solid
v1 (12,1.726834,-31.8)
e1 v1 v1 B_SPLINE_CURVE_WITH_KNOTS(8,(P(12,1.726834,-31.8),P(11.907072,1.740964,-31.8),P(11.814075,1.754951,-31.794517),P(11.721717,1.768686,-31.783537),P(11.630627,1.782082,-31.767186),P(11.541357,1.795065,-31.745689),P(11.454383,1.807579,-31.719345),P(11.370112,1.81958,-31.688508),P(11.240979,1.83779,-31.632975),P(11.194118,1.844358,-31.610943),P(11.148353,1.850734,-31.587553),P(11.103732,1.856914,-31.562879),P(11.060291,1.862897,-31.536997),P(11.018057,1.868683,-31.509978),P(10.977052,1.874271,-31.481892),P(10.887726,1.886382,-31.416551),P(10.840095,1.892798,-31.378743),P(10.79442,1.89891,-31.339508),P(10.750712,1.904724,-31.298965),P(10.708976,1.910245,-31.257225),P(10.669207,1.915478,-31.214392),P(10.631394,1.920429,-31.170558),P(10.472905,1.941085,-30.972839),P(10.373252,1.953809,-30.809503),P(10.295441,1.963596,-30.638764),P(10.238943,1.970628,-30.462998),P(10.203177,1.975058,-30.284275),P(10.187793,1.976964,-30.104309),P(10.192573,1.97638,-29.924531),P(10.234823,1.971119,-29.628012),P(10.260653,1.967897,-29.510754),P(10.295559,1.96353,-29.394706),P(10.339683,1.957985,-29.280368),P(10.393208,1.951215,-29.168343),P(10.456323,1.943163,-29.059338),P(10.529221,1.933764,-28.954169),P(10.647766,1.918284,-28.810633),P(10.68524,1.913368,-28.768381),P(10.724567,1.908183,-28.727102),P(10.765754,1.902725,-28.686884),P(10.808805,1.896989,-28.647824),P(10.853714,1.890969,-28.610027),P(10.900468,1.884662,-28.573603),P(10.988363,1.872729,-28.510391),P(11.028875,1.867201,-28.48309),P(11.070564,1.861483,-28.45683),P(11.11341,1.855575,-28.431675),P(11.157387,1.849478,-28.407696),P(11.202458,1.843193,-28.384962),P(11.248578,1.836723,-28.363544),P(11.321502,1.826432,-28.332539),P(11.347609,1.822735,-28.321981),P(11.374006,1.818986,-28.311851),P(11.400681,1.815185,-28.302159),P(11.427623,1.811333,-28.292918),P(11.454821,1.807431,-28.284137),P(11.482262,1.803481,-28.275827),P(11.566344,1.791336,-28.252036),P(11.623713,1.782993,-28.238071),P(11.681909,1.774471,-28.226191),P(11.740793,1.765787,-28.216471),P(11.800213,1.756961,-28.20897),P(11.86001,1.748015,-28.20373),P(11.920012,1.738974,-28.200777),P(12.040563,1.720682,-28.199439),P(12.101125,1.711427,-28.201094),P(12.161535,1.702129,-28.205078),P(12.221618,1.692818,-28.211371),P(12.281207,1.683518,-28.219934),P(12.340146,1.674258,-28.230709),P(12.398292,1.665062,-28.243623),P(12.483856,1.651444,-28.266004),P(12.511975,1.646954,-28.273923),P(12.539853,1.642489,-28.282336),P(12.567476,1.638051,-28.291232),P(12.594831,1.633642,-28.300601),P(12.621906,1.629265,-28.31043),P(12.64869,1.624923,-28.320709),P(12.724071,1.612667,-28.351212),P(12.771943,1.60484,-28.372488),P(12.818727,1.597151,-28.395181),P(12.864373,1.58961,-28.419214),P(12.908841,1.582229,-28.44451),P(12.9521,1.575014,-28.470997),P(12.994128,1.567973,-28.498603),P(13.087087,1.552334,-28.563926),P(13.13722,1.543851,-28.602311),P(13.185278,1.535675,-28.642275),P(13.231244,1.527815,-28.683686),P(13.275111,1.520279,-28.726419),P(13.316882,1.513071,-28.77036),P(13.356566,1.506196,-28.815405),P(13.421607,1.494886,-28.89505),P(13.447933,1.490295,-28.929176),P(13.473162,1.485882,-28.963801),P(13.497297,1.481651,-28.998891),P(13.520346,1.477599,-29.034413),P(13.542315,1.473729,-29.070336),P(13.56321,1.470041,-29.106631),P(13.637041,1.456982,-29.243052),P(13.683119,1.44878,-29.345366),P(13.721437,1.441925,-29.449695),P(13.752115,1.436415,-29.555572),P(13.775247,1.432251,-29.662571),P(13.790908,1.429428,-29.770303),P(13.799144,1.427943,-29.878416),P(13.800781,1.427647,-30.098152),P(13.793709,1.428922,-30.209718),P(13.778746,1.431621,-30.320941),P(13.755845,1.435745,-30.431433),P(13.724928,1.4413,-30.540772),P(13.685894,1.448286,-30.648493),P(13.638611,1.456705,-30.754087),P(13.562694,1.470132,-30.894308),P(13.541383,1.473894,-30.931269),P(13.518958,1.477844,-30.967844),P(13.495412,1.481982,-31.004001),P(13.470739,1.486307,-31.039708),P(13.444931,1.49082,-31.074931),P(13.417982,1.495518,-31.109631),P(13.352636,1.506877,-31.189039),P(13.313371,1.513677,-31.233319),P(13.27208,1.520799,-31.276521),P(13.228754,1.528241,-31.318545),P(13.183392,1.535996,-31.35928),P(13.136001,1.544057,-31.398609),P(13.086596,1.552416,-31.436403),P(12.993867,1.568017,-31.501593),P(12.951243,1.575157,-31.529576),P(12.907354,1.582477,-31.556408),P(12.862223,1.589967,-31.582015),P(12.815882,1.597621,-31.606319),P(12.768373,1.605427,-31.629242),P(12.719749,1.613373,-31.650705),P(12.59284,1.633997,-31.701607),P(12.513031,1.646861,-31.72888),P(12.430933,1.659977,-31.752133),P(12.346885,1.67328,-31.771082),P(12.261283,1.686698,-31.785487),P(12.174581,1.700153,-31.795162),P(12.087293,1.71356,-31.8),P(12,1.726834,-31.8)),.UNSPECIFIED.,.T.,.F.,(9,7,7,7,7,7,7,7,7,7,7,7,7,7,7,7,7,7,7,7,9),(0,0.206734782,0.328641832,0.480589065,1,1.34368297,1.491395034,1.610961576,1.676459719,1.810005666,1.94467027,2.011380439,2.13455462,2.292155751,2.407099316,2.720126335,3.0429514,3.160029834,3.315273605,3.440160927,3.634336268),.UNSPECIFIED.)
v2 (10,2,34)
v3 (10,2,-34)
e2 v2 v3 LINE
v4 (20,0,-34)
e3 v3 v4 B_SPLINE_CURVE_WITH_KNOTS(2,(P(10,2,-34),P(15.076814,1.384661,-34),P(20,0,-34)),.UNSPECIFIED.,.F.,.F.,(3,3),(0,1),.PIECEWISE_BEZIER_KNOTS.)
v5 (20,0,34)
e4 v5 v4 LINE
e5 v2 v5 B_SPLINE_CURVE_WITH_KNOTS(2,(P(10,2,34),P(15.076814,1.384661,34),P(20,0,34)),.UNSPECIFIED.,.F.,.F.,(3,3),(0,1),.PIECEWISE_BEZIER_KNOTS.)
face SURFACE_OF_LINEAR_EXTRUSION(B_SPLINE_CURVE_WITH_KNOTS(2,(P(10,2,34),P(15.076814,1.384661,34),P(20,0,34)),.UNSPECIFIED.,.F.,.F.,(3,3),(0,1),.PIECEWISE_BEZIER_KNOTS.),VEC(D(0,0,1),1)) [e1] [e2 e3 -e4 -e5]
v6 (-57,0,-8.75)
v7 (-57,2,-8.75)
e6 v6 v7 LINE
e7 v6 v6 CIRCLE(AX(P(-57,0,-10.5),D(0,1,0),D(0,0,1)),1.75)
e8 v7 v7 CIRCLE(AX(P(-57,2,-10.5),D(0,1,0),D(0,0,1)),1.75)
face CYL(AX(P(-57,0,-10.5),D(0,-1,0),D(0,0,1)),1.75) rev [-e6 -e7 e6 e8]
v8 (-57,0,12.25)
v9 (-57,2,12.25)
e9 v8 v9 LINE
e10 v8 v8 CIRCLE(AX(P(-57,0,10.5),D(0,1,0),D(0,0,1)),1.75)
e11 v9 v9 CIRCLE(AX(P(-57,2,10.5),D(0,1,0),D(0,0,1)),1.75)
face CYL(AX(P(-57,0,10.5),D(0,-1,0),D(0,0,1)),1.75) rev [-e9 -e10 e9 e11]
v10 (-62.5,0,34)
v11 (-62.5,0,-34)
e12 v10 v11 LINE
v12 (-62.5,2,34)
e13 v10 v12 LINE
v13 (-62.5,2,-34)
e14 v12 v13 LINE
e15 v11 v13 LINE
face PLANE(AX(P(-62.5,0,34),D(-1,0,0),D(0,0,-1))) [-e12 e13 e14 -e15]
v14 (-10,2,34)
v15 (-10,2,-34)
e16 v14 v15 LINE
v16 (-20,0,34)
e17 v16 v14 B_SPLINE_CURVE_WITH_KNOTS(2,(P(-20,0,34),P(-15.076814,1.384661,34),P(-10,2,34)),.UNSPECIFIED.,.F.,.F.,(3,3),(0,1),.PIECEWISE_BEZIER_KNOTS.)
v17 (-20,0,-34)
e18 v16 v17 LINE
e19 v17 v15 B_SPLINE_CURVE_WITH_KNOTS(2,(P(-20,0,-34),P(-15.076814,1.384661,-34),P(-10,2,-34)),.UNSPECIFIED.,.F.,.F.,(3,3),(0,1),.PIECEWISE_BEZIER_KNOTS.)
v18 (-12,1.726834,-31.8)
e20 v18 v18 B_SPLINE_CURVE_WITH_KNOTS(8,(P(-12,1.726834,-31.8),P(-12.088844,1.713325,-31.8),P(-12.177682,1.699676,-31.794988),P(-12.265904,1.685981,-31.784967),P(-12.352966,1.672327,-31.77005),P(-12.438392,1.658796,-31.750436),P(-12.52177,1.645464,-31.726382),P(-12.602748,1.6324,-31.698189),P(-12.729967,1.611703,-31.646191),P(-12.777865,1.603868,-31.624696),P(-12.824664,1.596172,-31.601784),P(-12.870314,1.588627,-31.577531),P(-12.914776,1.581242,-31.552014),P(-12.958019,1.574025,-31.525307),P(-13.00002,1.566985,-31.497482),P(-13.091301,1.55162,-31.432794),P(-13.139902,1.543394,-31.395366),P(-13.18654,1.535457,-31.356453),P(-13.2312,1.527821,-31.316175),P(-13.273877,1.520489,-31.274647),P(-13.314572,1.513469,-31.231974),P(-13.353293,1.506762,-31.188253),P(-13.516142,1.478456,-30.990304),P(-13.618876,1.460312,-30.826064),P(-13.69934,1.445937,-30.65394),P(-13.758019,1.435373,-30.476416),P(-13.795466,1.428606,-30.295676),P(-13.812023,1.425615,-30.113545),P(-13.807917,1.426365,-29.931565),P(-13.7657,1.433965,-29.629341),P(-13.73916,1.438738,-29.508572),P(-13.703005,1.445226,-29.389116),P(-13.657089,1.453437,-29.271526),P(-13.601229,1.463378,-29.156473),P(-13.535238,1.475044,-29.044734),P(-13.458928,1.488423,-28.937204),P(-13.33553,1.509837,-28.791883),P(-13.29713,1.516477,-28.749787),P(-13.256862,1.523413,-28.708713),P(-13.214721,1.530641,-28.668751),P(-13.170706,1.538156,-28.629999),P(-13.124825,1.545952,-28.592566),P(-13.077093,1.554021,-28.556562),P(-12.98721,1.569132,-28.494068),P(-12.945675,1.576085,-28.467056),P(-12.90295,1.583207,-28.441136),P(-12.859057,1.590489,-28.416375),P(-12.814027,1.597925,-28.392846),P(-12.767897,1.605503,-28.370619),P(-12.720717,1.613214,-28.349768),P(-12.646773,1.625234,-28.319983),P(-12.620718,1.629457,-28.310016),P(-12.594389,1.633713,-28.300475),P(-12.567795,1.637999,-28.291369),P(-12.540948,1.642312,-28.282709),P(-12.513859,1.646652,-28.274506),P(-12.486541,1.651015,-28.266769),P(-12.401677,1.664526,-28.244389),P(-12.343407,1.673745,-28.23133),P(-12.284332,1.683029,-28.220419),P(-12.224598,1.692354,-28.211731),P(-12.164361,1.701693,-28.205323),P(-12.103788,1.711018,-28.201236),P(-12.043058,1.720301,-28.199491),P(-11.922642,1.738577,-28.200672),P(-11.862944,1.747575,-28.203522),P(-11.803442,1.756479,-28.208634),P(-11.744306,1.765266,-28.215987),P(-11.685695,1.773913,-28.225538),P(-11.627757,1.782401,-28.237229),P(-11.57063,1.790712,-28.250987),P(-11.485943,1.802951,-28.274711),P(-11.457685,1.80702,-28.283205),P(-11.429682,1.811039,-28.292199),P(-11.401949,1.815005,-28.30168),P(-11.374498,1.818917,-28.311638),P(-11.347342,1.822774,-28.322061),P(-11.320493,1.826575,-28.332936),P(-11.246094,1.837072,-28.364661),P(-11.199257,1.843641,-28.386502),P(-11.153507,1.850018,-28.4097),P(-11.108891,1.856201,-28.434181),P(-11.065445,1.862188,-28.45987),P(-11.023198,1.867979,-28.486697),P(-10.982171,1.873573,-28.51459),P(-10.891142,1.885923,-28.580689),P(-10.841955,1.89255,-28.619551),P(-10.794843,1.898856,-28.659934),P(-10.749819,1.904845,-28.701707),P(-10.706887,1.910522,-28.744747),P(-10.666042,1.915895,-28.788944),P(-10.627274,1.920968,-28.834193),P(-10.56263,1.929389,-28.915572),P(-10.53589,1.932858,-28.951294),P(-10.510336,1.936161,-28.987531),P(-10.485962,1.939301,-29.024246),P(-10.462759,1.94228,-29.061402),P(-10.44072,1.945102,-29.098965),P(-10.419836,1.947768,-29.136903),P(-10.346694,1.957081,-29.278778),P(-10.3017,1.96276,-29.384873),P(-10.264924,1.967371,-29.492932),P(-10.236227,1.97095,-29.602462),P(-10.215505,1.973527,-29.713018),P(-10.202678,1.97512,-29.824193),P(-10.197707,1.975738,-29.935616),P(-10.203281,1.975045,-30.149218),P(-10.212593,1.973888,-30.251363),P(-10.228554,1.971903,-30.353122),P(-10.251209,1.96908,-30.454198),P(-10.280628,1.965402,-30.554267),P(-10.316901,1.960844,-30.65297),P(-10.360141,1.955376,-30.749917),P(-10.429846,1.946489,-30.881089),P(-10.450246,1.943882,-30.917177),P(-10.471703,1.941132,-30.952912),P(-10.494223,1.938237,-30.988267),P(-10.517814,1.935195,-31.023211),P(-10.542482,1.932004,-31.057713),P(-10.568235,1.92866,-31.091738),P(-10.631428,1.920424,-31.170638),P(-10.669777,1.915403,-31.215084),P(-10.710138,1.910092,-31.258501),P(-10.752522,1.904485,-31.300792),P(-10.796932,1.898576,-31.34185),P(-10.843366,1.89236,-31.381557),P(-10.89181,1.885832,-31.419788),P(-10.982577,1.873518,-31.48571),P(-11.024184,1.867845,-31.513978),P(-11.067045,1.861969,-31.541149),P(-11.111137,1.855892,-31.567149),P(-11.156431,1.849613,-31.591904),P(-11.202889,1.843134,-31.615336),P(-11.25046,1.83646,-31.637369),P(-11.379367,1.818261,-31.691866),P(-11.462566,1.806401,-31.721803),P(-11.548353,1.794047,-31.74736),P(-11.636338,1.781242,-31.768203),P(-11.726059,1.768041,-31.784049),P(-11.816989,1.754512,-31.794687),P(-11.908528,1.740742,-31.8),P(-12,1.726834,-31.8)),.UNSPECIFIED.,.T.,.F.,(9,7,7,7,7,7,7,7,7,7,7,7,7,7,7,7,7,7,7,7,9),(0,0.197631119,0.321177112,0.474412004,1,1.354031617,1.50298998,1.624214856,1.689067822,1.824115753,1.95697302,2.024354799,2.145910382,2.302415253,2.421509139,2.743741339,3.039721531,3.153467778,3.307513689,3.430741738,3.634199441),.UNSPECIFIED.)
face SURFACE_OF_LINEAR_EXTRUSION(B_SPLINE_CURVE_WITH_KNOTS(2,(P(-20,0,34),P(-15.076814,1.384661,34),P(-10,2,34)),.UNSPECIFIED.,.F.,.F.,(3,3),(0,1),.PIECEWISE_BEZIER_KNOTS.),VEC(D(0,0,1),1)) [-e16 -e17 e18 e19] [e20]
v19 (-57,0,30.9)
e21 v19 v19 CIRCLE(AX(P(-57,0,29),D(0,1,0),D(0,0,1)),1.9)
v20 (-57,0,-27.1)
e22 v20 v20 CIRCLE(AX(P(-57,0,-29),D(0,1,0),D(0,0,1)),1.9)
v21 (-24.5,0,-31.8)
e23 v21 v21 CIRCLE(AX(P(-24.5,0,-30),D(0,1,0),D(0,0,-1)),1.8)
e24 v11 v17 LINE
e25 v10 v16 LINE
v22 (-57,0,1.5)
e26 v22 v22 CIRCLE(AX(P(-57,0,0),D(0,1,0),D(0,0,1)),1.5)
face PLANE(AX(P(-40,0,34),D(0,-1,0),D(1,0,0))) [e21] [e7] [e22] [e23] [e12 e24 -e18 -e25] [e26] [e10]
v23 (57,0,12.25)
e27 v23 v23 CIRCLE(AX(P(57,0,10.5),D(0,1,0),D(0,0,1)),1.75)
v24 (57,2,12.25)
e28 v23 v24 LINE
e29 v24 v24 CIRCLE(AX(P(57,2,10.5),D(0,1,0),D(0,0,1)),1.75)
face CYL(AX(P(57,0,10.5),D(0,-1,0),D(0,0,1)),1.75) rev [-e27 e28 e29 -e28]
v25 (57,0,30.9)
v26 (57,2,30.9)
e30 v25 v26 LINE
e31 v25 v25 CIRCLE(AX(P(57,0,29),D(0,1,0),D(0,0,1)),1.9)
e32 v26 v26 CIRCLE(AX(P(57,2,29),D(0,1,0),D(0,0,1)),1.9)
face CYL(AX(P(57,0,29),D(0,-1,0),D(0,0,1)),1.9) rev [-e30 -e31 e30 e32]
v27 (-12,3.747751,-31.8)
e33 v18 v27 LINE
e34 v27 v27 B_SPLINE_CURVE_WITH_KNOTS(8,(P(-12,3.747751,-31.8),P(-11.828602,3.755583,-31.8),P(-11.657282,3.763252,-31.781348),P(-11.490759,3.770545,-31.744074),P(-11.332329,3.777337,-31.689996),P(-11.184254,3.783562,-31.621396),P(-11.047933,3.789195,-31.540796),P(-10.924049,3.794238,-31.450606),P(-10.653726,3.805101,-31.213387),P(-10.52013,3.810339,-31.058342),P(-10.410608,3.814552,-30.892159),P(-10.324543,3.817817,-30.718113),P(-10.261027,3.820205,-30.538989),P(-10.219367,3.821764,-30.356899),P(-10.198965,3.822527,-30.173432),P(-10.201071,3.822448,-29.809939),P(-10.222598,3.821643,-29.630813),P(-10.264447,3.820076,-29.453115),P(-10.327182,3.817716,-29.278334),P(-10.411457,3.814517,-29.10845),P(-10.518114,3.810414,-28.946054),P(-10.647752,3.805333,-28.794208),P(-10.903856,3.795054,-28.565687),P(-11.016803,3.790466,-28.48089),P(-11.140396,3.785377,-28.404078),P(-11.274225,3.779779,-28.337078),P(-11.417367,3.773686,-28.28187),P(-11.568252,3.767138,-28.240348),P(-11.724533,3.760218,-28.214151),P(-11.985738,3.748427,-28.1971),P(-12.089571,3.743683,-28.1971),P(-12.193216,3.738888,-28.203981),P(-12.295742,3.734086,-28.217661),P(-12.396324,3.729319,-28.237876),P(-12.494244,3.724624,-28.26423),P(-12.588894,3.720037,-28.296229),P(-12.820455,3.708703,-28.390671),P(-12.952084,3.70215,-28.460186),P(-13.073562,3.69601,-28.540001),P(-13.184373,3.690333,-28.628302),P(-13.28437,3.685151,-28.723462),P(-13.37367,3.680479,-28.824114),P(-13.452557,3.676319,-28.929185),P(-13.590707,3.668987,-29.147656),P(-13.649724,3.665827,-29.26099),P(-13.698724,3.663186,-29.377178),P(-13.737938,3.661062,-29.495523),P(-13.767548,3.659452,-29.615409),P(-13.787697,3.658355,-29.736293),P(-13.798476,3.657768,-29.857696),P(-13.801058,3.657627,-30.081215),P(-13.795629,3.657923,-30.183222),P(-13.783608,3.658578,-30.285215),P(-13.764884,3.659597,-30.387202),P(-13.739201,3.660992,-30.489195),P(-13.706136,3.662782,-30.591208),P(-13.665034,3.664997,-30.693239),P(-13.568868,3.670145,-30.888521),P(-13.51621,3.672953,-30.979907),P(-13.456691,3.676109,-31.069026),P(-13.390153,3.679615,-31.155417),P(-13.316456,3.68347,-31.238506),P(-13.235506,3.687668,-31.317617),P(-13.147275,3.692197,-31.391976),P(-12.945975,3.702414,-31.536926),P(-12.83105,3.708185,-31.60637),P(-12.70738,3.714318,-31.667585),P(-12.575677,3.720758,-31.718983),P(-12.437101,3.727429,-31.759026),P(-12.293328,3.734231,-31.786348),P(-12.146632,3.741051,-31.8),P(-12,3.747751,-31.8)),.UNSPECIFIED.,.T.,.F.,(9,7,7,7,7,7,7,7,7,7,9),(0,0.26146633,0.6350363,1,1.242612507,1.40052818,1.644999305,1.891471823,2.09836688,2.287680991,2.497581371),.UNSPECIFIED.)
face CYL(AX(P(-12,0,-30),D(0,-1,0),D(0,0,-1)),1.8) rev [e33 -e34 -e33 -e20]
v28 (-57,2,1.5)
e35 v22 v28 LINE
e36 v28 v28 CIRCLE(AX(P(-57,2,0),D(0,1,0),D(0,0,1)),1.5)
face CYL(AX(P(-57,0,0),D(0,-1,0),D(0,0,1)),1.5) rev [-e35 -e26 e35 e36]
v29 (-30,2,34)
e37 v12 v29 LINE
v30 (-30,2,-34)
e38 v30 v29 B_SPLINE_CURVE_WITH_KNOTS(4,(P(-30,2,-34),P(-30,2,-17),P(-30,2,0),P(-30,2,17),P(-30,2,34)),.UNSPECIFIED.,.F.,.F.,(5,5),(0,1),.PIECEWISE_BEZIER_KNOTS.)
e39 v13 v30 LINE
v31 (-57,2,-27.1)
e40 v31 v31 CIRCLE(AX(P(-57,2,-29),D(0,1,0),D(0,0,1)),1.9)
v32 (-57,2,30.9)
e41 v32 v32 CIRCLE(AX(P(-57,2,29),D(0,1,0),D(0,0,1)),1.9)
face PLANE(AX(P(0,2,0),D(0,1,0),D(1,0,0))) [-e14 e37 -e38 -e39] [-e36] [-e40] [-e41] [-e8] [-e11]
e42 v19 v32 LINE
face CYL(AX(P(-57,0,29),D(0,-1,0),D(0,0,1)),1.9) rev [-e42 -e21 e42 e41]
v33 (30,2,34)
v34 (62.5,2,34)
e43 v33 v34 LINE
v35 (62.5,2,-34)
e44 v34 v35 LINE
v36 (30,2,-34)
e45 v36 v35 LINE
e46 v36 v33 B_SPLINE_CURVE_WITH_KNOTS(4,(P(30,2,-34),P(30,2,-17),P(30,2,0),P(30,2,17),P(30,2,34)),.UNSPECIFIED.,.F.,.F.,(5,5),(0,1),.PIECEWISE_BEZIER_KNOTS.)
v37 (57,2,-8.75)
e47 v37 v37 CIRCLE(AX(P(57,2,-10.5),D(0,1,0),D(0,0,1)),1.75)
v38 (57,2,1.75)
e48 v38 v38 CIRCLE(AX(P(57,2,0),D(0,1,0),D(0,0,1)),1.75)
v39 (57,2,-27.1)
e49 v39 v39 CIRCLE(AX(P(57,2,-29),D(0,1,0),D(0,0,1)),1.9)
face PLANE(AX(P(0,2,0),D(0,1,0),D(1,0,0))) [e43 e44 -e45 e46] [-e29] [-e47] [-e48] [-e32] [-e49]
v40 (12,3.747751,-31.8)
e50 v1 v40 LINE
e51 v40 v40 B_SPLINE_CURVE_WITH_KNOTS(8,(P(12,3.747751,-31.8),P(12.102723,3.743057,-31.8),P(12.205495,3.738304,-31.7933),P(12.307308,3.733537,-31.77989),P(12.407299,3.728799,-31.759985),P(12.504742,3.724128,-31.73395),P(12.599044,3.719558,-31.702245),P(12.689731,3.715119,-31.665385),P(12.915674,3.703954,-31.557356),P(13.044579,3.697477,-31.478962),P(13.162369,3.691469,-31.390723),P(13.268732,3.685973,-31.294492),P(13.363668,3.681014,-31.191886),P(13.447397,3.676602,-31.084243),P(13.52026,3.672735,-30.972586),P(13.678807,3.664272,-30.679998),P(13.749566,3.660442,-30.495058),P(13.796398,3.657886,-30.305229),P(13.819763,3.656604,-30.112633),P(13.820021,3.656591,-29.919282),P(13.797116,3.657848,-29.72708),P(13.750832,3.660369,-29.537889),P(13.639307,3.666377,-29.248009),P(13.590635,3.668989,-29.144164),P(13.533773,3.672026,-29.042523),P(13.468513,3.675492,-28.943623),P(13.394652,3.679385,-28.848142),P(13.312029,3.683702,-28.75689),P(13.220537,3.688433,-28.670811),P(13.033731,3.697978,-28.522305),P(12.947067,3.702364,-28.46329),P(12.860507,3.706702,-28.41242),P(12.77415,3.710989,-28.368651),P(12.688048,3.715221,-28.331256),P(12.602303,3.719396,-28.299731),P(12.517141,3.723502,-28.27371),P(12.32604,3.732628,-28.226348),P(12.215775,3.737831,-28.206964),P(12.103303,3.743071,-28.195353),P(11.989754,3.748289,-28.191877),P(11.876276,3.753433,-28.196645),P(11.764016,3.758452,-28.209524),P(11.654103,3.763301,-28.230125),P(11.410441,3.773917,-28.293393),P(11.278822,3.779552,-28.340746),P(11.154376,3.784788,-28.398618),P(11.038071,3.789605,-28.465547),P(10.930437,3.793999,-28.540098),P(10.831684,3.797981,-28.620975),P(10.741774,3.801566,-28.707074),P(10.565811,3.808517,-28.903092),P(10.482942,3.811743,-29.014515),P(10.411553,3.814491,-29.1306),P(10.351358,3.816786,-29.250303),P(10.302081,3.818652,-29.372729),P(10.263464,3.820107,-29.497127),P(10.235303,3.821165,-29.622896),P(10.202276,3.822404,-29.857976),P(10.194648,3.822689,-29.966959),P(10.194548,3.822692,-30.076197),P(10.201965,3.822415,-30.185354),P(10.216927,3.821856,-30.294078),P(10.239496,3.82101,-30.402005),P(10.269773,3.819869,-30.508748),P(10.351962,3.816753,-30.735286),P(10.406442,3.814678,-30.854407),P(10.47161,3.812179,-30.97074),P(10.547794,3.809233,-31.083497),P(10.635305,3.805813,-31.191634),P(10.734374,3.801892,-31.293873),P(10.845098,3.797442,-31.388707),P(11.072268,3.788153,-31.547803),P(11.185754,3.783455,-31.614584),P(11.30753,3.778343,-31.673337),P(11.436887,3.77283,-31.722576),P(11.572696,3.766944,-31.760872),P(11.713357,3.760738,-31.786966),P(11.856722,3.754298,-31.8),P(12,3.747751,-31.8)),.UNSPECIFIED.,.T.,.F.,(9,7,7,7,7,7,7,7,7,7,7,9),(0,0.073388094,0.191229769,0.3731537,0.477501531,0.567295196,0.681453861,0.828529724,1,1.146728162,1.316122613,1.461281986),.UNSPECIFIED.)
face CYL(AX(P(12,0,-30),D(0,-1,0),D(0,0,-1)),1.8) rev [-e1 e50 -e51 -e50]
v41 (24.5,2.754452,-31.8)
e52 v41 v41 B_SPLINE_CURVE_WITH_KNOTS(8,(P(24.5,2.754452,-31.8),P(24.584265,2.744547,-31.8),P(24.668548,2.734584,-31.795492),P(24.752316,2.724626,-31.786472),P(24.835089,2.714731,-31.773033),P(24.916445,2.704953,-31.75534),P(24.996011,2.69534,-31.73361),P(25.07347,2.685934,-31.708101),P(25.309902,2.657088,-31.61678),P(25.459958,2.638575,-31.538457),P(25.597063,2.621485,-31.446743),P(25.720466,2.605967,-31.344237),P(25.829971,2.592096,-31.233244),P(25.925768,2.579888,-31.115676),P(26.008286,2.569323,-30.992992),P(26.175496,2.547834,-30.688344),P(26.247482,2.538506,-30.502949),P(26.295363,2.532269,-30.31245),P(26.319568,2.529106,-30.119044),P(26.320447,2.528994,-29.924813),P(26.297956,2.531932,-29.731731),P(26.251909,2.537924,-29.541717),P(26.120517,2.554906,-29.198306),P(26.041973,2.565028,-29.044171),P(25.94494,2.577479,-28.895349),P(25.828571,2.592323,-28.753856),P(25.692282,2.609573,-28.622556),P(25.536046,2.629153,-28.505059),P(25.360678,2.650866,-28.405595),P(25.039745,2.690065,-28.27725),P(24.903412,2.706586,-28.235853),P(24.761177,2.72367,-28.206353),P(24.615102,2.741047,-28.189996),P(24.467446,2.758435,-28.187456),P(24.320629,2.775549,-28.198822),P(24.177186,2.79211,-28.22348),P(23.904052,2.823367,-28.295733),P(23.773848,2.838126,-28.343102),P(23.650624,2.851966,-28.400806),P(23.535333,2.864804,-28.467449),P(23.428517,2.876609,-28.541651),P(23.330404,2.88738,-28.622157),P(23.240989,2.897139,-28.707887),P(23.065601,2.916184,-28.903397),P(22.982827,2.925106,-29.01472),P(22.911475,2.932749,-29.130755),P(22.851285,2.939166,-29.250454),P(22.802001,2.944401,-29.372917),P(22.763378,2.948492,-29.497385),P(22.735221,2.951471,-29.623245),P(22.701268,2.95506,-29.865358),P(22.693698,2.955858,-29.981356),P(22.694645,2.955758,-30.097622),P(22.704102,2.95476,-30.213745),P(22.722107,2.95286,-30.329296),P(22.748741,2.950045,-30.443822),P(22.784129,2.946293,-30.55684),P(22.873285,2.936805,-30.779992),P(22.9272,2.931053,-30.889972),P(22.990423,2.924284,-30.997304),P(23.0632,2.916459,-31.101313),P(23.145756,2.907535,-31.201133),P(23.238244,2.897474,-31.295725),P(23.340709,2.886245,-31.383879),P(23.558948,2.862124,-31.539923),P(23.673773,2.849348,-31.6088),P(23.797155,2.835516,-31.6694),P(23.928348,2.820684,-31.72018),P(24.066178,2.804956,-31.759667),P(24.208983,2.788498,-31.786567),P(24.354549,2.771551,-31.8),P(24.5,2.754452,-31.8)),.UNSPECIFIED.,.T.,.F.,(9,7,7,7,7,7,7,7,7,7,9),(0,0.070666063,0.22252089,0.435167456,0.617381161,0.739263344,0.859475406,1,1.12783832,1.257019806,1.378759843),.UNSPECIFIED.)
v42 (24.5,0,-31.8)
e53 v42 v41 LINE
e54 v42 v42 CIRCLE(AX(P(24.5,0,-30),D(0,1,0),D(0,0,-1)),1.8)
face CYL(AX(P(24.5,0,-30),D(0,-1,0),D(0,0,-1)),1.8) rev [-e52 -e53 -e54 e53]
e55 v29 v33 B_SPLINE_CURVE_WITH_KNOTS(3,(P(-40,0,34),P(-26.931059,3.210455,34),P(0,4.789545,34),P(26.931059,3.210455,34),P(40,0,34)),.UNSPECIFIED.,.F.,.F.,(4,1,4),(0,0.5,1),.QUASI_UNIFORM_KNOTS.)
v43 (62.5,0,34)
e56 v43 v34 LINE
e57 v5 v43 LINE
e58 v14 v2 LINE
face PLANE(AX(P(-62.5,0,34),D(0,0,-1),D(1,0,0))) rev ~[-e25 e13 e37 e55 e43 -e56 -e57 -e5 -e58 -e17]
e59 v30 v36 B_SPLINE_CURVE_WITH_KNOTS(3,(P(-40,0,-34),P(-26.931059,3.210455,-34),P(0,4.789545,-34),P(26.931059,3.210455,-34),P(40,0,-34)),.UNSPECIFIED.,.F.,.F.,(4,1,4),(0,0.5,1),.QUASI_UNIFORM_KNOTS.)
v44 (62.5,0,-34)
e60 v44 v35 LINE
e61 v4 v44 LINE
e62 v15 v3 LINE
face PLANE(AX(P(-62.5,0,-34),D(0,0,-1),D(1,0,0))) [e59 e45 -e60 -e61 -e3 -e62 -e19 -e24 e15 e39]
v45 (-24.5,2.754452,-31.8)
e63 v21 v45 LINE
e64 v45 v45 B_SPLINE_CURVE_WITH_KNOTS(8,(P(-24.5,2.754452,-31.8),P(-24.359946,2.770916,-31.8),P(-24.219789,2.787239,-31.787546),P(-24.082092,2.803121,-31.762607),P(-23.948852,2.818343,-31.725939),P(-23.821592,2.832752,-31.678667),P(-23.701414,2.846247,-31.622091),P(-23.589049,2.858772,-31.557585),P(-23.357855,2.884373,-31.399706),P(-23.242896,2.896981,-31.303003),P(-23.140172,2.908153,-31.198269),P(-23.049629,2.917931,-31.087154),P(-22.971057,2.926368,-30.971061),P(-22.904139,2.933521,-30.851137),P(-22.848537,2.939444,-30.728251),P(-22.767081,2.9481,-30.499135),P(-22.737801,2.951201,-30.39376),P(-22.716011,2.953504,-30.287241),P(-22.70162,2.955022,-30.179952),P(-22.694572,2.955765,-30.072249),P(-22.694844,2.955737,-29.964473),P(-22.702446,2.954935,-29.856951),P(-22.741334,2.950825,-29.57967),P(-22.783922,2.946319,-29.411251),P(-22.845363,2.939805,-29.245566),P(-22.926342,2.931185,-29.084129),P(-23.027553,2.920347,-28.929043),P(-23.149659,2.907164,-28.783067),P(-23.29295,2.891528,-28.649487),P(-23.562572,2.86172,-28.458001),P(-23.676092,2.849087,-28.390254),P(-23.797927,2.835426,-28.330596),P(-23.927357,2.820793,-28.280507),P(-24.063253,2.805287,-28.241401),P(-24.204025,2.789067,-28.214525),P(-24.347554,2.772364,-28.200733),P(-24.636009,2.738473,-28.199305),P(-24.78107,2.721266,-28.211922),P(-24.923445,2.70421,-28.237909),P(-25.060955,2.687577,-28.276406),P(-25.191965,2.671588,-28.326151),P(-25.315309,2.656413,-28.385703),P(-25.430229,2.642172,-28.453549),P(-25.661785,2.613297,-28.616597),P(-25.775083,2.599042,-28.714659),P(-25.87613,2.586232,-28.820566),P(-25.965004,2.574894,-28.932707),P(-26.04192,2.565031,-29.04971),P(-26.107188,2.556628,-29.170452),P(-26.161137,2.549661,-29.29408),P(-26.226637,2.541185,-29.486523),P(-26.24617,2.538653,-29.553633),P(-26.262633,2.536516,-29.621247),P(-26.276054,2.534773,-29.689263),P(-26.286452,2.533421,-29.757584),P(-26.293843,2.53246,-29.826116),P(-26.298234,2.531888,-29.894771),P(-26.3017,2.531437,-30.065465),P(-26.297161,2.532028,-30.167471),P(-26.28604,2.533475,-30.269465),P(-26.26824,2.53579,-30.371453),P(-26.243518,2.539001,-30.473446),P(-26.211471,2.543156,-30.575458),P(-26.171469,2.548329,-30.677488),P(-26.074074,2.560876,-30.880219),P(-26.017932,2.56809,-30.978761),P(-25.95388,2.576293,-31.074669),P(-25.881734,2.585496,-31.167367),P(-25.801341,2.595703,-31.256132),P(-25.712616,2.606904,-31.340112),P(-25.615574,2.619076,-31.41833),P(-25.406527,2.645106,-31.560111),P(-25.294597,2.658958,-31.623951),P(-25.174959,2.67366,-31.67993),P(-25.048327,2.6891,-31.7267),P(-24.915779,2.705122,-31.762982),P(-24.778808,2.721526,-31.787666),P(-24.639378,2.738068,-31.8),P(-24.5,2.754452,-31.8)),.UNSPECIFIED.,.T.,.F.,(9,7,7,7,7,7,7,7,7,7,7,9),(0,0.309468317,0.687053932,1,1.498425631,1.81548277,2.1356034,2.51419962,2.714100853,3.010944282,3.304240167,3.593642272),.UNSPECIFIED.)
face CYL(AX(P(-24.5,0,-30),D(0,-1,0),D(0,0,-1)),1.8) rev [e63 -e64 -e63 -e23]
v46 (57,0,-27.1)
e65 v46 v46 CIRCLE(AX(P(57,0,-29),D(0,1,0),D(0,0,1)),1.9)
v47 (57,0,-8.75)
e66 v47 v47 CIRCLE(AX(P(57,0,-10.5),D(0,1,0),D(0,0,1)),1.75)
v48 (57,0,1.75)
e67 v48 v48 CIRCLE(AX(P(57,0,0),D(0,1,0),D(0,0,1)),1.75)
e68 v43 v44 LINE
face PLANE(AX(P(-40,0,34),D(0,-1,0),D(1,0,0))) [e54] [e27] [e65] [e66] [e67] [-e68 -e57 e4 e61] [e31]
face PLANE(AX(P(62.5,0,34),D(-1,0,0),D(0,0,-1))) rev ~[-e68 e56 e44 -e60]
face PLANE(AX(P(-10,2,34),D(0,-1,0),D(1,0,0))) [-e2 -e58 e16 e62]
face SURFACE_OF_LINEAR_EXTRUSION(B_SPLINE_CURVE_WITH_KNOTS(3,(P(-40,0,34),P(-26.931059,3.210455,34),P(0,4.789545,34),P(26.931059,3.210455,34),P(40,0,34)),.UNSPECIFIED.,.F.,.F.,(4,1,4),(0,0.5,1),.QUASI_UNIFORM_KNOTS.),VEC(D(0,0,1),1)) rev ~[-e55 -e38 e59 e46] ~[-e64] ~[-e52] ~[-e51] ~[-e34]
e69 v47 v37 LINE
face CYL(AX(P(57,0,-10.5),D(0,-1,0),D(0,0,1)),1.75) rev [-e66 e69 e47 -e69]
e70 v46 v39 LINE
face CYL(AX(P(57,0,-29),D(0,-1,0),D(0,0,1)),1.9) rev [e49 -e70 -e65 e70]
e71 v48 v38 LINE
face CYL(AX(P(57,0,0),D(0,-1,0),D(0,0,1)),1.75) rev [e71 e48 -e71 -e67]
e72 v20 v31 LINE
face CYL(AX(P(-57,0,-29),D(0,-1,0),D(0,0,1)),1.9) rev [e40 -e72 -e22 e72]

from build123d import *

# Parameters (mm, degrees)
SKETCH_1_W          = 125
SKETCH_1_H          = 68
SKETCH_1_R          = 1.5
SKETCH_1_R_2        = 1.75
SKETCH_1_R_3        = 1.9
EXTRUDE_1_DEPTH     = 2
EXTRUDE_2_DEPTH     = 68
SKETCH_4_W          = 20
SKETCH_4_H          = 2
CUT_EXTRUDE_1_DEPTH = 68
SKETCH_5_R          = 1.8
CUT_EXTRUDE_2_DEPTH = 10


with BuildPart() as part:
    # 草图1 → 凸台-拉伸1 (new body)
    with BuildSketch(Plane(origin=(0, 0, 0), x_dir=(1, 0, 0), z_dir=(0, 1, 0))):
        Rectangle(SKETCH_1_W, SKETCH_1_H)
        with Locations(Location((-57, 0, 0), (0, 0, 270))):
            Circle(SKETCH_1_R, mode=Mode.SUBTRACT)
        with Locations(Location((57, 0, 0), (0, 0, 270))):
            Circle(SKETCH_1_R_2, mode=Mode.SUBTRACT)
        with Locations(Location((57, -29, 0), (0, 0, 270))):
            Circle(SKETCH_1_R_3, mode=Mode.SUBTRACT)
        with Locations(Location((57, 29, 0), (0, 0, 270))):
            Circle(SKETCH_1_R_3, mode=Mode.SUBTRACT)
        with Locations(Location((57, 10.5, 0), (0, 0, 270))):
            Circle(SKETCH_1_R_2, mode=Mode.SUBTRACT)
        with Locations(Location((57, -10.5, 0), (0, 0, 270))):
            Circle(SKETCH_1_R_2, mode=Mode.SUBTRACT)
        with Locations(Location((-57, 10.5, 0), (0, 0, 270))):
            Circle(SKETCH_1_R_2, mode=Mode.SUBTRACT)
        with Locations(Location((-57, -10.5, 0), (0, 0, 270))):
            Circle(SKETCH_1_R_2, mode=Mode.SUBTRACT)
        with Locations(Location((-57, 29, 0), (0, 0, 270))):
            Circle(SKETCH_1_R_3, mode=Mode.SUBTRACT)
        with Locations(Location((-57, -29, 0), (0, 0, 270))):
            Circle(SKETCH_1_R_3, mode=Mode.SUBTRACT)
    extrude(amount=EXTRUDE_1_DEPTH)

    # 草图3 → 凸台-拉伸2 (add)
    with BuildSketch(Plane.XY.offset(34)):
        with BuildLine():
            Line((-40, 0), (40, 0))
            add(Edge.make_bspline(
                [(-40, 0), (-26.931059471, 3.210455026), (0, 4.789544974), (26.931059471, 3.210455026), (40, 0)],
                knots=[0, 0, 0, 0, 0.5, 1, 1, 1, 1], degree=3))
        make_face()
    extrude(amount=-EXTRUDE_2_DEPTH)

    # 草图4 → 切除-拉伸1 (cut)
    with BuildSketch(Plane.XY.offset(34)):
        with Locations((0, 1)):
            Rectangle(SKETCH_4_W, SKETCH_4_H)
        with BuildLine():
            Line((-10, 0), (-10, 2))
            add(Edge.make_bspline(
                [(-20, 0), (-15.076813979, 1.384660804), (-10, 2)],
                knots=[0, 0, 0, 1, 1, 1], degree=2))
            Line((-20, 0), (-10, 0))
        make_face()
        with BuildLine():
            add(Edge.make_bspline(
                [(10, 2), (15.076813979, 1.384660804), (20, 0)],
                knots=[0, 0, 0, 1, 1, 1], degree=2))
            Line((10, 2), (10, 0))
            Line((10, 0), (20, 0))
        make_face()
    extrude(amount=-CUT_EXTRUDE_1_DEPTH, mode=Mode.SUBTRACT)

    # 草图5 → 切除-拉伸2 (cut)
    with BuildSketch(Plane(origin=(0, 0, 0), x_dir=(1, 0, 0), z_dir=(0, 1, 0))):
        with Locations(Location((-24.5, 30, 0), (0, 0, 90))):
            Circle(SKETCH_5_R)
        with Locations(Location((-12, 30, 0), (0, 0, 90))):
            Circle(SKETCH_5_R)
        with Locations(Location((12, 30, 0), (0, 0, 90))):
            Circle(SKETCH_5_R)
        with Locations(Location((24.5, 30, 0), (0, 0, 90))):
            Circle(SKETCH_5_R)
    extrude(amount=CUT_EXTRUDE_2_DEPTH, mode=Mode.SUBTRACT)


solid = part.part
